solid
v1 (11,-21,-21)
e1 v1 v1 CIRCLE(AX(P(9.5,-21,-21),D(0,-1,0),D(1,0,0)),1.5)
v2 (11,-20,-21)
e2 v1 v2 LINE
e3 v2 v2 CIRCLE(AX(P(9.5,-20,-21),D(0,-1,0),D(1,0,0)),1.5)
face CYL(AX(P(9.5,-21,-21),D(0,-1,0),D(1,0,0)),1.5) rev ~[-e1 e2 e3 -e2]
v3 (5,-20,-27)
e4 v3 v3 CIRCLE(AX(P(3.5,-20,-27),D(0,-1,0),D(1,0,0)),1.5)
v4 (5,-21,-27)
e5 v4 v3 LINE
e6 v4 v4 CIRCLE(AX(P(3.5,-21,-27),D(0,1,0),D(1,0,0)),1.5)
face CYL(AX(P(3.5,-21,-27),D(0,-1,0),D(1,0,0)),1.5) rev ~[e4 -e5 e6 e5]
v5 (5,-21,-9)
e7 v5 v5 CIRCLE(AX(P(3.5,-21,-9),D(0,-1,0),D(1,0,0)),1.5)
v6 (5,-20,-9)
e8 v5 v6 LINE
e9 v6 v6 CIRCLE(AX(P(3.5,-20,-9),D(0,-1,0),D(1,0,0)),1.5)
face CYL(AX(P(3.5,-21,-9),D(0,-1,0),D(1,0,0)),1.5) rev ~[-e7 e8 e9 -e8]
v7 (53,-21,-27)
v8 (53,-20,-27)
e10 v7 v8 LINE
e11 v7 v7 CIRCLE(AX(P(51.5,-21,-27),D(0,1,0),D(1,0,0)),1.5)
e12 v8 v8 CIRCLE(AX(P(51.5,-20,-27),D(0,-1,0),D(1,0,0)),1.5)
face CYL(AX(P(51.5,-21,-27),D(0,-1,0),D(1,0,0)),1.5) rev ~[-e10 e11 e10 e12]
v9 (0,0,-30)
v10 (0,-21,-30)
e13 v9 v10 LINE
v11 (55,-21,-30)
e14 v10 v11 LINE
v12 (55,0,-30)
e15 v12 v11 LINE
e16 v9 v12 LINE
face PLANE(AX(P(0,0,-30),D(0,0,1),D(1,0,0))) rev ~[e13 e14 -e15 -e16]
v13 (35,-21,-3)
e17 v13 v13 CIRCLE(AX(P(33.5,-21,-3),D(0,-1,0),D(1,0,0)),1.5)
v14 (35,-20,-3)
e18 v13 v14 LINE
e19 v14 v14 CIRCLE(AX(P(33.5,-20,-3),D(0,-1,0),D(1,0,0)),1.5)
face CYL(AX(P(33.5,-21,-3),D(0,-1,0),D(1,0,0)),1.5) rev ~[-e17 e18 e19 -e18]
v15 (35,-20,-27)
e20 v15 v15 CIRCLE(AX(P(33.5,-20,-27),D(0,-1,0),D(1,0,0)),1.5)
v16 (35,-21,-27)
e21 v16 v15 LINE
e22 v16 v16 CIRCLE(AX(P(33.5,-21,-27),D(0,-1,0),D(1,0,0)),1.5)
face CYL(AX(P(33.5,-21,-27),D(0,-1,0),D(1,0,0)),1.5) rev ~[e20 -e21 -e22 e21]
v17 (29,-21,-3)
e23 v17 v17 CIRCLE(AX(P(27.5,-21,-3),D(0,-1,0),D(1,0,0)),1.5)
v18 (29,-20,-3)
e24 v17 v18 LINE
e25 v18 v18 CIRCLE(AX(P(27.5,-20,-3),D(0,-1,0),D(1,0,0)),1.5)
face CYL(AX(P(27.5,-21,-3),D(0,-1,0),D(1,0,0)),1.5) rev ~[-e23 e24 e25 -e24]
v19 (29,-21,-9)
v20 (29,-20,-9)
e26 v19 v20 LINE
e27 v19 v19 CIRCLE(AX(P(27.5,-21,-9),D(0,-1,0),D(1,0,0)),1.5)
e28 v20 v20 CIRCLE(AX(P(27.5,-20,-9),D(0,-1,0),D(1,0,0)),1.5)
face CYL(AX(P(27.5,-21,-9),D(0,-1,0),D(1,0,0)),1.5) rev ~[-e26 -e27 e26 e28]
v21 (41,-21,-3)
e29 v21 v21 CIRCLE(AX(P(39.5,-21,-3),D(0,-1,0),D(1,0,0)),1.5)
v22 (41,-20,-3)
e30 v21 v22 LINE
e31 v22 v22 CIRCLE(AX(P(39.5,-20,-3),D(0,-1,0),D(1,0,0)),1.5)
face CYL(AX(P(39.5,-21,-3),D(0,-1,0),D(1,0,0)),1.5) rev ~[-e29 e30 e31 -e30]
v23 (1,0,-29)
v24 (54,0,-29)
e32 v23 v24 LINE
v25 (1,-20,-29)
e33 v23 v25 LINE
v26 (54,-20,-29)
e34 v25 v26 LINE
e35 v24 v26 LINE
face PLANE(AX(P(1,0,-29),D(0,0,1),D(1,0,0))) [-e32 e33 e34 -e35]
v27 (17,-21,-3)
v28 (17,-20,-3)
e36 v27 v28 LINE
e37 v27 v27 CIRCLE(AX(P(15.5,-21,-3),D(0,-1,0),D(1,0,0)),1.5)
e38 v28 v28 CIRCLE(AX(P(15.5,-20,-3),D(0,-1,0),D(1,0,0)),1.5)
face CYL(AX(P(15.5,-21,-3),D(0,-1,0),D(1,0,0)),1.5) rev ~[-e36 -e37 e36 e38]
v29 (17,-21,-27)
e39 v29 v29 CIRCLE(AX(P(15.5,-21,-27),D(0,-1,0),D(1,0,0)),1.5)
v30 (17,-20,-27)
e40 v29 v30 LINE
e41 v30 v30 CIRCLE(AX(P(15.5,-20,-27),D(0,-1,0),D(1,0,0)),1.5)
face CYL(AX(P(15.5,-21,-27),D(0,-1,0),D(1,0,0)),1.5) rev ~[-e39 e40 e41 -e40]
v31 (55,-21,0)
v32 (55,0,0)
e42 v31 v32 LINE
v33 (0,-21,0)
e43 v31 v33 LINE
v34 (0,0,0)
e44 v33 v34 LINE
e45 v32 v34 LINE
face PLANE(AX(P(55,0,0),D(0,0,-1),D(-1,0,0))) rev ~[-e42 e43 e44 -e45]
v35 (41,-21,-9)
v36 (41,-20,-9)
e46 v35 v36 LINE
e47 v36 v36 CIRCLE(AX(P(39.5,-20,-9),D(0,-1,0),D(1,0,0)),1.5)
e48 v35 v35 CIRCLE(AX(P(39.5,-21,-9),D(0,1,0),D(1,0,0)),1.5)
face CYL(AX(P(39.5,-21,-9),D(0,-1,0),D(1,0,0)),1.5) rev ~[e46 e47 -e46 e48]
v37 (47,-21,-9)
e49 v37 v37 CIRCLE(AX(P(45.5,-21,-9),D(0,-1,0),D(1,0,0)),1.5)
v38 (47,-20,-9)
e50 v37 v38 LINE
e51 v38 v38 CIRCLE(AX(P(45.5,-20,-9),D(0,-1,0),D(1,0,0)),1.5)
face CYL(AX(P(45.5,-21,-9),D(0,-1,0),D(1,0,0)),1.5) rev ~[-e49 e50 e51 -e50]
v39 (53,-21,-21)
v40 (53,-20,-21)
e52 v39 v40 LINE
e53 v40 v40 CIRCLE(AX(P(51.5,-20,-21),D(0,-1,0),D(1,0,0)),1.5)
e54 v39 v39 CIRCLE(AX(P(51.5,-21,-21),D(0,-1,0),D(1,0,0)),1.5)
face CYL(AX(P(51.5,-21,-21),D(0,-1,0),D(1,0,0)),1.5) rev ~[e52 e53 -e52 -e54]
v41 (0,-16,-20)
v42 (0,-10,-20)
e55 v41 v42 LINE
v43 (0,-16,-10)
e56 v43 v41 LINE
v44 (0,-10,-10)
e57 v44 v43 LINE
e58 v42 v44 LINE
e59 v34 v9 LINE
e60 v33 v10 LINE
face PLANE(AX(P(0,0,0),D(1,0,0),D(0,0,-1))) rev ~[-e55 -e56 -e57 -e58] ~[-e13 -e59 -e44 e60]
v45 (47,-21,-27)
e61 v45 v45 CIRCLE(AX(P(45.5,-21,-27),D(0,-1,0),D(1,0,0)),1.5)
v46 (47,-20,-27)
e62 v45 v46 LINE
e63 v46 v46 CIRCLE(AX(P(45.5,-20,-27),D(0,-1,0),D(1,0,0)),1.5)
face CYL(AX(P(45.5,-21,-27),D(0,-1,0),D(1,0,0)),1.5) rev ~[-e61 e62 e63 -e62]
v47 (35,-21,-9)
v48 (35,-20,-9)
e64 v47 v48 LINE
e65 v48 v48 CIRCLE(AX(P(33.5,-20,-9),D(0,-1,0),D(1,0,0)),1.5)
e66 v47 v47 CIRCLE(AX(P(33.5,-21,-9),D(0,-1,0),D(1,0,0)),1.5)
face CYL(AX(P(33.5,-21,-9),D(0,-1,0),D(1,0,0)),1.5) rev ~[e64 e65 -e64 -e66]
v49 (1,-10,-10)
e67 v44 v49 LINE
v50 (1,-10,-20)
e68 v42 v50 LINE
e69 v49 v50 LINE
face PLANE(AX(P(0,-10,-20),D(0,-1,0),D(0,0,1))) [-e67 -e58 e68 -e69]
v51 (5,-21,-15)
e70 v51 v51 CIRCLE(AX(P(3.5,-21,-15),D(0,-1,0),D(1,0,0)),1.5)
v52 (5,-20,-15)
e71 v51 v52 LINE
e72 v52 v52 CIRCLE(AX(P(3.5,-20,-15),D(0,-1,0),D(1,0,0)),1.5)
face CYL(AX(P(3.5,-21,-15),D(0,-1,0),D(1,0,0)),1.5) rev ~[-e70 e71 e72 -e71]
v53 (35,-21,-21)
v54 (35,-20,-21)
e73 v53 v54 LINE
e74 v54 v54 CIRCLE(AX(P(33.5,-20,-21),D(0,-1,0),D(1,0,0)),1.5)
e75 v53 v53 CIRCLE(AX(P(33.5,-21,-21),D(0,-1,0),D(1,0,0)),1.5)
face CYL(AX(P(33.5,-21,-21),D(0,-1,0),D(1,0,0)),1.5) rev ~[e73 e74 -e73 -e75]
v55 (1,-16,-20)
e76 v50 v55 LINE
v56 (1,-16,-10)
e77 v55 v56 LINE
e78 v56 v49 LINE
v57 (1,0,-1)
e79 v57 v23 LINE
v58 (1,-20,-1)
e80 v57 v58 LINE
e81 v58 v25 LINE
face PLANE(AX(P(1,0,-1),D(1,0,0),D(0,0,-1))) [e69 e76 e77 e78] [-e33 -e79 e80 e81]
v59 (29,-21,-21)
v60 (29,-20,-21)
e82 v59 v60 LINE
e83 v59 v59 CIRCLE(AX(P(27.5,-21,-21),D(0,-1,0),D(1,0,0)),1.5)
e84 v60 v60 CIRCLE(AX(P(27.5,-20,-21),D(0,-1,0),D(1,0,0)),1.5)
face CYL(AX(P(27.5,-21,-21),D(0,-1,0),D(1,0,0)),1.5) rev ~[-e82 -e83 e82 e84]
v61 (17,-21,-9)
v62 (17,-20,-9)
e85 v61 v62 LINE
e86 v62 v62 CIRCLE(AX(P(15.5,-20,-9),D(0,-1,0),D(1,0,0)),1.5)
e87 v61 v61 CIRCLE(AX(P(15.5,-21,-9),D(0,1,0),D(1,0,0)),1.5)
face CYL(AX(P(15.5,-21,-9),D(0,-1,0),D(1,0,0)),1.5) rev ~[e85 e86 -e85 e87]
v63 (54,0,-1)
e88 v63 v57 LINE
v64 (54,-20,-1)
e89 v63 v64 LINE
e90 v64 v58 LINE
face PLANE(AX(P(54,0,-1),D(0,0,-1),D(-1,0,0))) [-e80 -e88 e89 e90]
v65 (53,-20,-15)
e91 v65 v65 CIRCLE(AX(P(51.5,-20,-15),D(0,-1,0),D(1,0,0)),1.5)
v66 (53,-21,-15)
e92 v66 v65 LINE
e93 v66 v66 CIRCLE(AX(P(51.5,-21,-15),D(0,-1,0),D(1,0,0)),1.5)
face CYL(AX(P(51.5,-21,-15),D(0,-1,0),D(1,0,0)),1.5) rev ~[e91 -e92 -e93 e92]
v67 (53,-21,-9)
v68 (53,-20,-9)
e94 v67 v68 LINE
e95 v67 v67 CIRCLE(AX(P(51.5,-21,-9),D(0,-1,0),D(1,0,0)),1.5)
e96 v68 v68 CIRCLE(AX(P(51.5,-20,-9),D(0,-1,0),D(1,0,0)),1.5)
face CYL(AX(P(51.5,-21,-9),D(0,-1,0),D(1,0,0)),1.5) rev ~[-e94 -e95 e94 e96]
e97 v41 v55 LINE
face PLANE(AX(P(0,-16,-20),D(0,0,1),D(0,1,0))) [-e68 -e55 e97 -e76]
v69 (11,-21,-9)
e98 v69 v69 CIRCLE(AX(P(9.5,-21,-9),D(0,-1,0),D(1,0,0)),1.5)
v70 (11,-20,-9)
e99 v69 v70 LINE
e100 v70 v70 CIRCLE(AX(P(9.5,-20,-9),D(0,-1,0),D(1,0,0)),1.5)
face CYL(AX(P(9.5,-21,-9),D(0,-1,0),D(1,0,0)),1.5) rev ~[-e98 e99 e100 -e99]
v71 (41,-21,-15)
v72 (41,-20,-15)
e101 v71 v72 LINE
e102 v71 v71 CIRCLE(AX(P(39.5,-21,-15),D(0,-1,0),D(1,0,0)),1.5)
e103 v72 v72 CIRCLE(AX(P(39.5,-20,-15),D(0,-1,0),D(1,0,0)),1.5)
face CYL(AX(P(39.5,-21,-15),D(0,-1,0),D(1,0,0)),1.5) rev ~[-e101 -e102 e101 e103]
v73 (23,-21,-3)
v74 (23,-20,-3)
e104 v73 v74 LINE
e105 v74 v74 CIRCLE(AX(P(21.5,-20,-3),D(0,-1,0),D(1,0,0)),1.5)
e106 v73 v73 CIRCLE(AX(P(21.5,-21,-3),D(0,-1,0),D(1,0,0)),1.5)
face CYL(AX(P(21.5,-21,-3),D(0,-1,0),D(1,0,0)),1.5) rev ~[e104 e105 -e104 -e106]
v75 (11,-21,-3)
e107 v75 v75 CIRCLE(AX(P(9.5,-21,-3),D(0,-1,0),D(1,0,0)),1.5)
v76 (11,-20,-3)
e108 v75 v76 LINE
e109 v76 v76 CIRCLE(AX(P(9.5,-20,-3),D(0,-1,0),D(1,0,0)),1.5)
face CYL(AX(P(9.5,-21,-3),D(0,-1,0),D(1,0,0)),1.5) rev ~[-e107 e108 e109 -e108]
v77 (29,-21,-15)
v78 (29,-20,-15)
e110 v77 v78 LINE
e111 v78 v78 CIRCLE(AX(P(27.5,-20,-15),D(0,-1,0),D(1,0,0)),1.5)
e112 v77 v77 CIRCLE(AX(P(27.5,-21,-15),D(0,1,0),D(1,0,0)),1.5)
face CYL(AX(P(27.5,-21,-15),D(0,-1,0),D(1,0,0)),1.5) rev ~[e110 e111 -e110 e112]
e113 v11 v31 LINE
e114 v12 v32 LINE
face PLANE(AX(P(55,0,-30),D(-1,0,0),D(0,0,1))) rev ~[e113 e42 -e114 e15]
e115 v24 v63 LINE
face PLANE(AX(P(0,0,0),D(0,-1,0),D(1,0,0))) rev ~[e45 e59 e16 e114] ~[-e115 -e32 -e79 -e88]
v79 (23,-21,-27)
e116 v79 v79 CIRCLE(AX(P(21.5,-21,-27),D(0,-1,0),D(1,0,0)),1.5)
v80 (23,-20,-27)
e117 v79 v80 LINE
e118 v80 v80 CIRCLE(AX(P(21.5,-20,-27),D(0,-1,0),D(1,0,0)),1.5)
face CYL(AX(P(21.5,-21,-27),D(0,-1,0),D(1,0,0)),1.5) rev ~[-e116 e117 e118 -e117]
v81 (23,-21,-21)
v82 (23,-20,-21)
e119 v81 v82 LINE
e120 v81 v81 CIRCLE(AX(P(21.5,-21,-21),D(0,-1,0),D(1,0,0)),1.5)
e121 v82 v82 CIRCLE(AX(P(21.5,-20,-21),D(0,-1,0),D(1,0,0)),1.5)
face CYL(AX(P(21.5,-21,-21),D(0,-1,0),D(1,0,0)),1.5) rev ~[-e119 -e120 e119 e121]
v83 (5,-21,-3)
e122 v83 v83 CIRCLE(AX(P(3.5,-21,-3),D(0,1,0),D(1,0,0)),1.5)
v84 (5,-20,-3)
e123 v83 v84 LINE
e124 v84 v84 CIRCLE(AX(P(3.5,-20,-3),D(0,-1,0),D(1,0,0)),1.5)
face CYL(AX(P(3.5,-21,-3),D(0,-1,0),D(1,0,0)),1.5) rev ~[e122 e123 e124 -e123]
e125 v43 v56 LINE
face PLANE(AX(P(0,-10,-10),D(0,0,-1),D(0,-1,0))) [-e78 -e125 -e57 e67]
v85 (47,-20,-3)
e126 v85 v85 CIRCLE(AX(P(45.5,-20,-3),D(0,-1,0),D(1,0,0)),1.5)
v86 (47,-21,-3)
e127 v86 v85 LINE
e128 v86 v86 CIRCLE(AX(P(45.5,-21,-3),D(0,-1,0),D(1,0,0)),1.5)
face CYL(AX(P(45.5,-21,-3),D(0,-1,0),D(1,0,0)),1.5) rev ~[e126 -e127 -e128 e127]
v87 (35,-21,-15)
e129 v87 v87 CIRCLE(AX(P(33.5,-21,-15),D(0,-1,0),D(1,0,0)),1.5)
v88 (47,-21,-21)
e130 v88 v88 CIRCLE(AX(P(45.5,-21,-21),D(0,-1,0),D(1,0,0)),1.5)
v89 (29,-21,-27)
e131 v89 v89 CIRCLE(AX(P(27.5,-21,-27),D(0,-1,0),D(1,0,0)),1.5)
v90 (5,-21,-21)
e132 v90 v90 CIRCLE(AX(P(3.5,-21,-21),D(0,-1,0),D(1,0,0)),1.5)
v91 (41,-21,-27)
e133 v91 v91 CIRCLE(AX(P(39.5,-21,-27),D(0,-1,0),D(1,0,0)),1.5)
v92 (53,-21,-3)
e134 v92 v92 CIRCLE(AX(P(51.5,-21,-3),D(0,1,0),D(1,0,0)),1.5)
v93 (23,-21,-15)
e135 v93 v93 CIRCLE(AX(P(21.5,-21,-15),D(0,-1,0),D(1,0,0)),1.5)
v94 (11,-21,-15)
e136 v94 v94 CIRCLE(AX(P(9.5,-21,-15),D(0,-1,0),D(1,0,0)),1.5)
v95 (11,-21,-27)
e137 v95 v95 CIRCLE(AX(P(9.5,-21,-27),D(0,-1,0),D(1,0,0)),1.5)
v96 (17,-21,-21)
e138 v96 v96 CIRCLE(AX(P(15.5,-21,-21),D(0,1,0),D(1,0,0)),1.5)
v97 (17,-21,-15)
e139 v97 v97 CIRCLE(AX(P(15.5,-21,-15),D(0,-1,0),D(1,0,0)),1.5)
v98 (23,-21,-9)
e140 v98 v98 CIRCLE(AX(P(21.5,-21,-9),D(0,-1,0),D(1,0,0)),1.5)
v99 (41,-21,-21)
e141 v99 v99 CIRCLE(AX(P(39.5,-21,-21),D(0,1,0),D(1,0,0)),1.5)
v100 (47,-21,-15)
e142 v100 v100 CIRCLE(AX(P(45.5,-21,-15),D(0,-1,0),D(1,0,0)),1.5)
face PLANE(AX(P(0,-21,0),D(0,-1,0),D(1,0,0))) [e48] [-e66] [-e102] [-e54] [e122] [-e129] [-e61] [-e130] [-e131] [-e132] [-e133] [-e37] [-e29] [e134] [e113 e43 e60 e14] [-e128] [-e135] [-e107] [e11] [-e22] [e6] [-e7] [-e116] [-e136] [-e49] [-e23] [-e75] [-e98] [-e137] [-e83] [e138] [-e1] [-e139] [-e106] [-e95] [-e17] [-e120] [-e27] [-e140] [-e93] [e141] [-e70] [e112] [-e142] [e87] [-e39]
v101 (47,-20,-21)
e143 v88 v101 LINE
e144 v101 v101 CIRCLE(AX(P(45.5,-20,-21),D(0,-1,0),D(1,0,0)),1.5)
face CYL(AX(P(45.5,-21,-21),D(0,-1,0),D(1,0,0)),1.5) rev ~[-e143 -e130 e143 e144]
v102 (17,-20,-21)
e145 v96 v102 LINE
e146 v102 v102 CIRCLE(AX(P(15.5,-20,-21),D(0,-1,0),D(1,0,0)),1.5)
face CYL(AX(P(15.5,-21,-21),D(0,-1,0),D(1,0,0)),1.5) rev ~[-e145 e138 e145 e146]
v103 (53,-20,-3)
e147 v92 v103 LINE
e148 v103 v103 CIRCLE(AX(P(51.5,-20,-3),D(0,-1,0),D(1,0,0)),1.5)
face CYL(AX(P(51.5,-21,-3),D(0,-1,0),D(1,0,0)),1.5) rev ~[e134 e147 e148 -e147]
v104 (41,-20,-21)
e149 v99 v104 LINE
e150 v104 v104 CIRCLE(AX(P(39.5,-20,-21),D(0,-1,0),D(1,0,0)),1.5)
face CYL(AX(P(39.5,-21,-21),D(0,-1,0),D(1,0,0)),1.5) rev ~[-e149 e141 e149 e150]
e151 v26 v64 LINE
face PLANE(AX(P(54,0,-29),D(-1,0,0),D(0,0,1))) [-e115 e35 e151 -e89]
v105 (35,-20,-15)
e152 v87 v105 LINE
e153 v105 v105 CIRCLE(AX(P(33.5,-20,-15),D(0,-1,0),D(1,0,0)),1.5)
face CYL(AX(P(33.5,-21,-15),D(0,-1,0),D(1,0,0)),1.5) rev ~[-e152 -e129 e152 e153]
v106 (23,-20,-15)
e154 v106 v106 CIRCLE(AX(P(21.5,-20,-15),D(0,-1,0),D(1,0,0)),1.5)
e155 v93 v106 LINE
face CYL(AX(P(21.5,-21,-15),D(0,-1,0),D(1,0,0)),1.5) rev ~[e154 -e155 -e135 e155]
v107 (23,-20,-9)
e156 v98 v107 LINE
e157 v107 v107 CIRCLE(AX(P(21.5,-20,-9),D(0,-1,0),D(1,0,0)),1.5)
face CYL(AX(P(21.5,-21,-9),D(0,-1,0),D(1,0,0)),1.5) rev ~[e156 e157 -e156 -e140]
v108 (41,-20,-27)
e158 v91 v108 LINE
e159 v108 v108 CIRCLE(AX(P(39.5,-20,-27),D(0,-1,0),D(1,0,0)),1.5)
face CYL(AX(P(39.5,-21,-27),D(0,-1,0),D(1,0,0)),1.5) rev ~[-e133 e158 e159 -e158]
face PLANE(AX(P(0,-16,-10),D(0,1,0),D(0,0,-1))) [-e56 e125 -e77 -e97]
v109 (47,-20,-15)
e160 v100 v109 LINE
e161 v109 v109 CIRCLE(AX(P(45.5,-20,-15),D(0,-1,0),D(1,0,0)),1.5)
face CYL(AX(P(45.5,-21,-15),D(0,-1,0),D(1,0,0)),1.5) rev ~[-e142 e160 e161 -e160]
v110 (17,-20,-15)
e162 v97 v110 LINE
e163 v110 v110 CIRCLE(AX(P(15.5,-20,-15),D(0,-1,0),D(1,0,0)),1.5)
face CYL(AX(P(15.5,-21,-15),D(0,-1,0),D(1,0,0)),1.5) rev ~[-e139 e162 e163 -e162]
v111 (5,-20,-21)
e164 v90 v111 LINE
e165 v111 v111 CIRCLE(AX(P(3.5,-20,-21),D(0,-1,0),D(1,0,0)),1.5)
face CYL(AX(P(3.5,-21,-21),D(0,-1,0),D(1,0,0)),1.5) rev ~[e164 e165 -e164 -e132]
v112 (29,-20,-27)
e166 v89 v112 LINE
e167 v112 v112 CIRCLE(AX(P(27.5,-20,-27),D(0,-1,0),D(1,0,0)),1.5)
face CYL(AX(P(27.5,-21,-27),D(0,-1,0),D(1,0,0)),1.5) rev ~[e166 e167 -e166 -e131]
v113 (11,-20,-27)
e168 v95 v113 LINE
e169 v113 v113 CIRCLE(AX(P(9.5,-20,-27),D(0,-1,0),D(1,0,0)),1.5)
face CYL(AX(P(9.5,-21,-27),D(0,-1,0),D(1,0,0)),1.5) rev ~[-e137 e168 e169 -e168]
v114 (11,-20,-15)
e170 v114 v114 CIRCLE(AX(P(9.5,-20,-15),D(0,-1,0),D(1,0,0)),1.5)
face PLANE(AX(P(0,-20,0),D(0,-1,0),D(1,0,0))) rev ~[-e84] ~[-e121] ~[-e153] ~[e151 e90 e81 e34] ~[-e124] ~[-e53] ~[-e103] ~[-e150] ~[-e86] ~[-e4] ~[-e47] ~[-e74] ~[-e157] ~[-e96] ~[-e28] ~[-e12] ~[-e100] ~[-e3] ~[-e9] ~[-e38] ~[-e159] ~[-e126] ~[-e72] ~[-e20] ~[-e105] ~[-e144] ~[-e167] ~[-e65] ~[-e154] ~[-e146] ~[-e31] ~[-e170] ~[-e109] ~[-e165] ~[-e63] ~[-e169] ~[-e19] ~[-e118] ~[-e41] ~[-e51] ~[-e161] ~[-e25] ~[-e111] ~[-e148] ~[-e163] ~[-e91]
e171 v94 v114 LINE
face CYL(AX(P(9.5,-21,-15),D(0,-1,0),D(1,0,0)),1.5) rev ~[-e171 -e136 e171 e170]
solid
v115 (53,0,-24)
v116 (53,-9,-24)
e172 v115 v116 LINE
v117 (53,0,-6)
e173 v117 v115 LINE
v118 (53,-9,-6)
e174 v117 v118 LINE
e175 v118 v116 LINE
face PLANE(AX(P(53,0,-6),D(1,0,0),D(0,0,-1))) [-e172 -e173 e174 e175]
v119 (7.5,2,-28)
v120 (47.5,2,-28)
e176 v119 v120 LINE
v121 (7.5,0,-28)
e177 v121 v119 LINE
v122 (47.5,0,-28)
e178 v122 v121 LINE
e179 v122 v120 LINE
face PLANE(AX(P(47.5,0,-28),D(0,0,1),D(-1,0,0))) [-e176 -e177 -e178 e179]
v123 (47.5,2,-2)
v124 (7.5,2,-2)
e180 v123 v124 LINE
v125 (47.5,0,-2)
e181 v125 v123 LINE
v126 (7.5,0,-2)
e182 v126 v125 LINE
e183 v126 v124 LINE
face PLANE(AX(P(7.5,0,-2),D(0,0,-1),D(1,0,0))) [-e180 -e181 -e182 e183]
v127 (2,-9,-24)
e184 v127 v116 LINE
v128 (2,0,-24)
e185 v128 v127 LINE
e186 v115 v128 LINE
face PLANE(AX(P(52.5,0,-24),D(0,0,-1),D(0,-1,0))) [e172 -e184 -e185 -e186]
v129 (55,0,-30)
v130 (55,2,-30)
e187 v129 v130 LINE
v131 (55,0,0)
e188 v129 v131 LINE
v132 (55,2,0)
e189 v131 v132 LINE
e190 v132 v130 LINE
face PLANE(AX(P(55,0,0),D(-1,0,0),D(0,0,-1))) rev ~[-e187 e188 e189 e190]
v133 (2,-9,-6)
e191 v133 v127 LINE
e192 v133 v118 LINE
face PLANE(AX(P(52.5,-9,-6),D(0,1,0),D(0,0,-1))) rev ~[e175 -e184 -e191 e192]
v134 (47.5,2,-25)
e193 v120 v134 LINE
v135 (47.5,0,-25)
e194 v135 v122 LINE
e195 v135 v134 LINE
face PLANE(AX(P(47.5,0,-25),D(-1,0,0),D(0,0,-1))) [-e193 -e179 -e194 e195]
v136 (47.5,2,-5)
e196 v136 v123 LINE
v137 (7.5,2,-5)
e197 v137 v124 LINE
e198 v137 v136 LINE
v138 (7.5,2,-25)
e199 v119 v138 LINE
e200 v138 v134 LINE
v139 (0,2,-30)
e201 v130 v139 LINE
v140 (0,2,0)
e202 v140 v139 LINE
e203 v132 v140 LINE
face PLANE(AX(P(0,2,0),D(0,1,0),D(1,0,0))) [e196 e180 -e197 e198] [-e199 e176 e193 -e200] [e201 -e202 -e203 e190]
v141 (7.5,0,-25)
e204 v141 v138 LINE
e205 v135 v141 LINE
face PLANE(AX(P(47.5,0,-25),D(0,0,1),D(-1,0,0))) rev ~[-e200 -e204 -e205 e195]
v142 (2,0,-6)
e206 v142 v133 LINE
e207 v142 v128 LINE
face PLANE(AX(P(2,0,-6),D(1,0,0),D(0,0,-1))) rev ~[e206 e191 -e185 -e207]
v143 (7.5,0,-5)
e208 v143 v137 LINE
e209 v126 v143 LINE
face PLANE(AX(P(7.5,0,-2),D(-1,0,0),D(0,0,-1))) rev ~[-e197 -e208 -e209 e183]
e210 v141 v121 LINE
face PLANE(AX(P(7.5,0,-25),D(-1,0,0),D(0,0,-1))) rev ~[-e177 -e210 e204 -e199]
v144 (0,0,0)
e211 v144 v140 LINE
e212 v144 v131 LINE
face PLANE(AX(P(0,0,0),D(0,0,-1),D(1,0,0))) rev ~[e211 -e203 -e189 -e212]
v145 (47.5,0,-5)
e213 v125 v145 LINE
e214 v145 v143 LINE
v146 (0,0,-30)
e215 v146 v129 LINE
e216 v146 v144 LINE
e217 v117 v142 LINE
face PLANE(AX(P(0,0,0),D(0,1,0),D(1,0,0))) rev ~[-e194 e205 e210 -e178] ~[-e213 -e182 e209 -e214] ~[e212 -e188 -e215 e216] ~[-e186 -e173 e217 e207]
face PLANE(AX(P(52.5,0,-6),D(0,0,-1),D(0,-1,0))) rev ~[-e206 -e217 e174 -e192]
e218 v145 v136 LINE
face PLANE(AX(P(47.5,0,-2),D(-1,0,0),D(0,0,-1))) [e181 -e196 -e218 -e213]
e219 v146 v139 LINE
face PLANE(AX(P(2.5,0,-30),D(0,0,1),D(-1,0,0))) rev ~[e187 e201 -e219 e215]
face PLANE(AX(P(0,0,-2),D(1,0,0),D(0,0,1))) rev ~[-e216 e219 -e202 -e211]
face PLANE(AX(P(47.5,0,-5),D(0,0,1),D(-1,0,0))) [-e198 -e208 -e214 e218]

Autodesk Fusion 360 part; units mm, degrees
sketch "Skizze1" plane through (0, 0, 0) normal (0, 1, 0) x (1, 0, 0)
  line L0 (0, 0) -> (55, 0)
  line L1 (55, 0) -> (55, 30)
  line L2 (55, 30) -> (0, 30)
  line L3 (0, 30) -> (0, 0)
  line L4 (0, 2) -> (56, 2)
  line L5 (56, 2) -> (56, 5)
  line L6 (56, 5) -> (0, 5)
  line L7 (0, 5) -> (0, 2)
  line L8 (0, 2) -> (7.5, 2)
  line L9 (7.5, 2) -> (7.5, 33)
  line L10 (7.5, 33) -> (0, 33)
  line L11 (0, 33) -> (0, 2)
  line L12 (55, 2) -> (47.5, 2)
  line L13 (47.5, 2) -> (47.5, 37)
  line L14 (47.5, 37) -> (55, 37)
  line L15 (55, 37) -> (55, 2)
  line L16 (0, 30) -> (64, 30)
  line L17 (64, 30) -> (64, 28)
  line L18 (64, 28) -> (0, 28)
  line L19 (0, 28) -> (0, 30)
  line L20 (7.5, 28) -> (47.5, 28)
  line L21 (47.5, 28) -> (47.5, 25)
  line L22 (47.5, 25) -> (7.5, 25)
  line L23 (7.5, 25) -> (7.5, 28)
  line L24 (0, 0) -> (2.5, 0)
  line L25 (2.5, 0) -> (2.5, 30)
  line L26 (2.5, 30) -> (0, 30)
  line L27 (0, 30) -> (0, 0)
  line L28 (55, 0) -> (52.5, 0)
  line L29 (52.5, 0) -> (52.5, 30)
  line L30 (52.5, 30) -> (55, 30)
  line L31 (55, 30) -> (55, 0)
  line L32 (-10, 0) -> (65, 0)
  line L33 (65, 0) -> (65, 6)
  line L34 (65, 6) -> (-10, 6)
  line L35 (-10, 6) -> (-10, 0)
  line L36 (-5, 30) -> (70, 30)
  line L37 (70, 30) -> (70, 24)
  line L38 (70, 24) -> (-5, 24)
  line L39 (-5, 24) -> (-5, 30)
  dimension "d1" = 55
  dimension "d2" = 30
  dimension "d3" = 7.5
  dimension "d4" = 7.5
  dimension "d5" = 3
  dimension "d6" = 2.5
  dimension "d7" = 2.5
extrude "Extrusion1" add sketch "Skizze1" along normal blind 2 contours L0 L3 L4 L8 L24 L25 L27 L32 | L0 L4 L8 L12 L25 L29 L32 | L3 L4 L6 L7 L8 L11 L25 L27 | L0 L1 L4 L12 L28 L29 L31 L32 | L4 L6 L8 L9 L25 | L3 L6 L11 L25 L27 L34 | L1 L4 L6 L12 L15 L29 L31 | L4 L6 L12 L13 L29 | L4 L6 L9 L13 | L6 L9 L25 L34 | L3 L11 L25 L27 L34 L38 | L1 L6 L15 L29 L31 L34 | L6 L13 L29 L34 | L6 L9 L13 L34 | L9 L25 L34 L38 | L3 L11 L18 L25 L27 L38 | L13 L29 L34 L38 | L1 L15 L29 L31 L34 L38 | L9 L13 L34 L38 | L9 L18 L23 L25 L38 | L2 L3 L11 L16 L18 L19 L25 L26 L27 L36 | L13 L18 L21 L29 L38 | L1 L15 L18 L29 L31 L38 | L9 L13 L22 L38 | L2 L9 L16 L18 L25 L36 | L1 L2 L15 L16 L18 L29 L30 L31 L36 | L2 L13 L16 L18 L29 L36 | L9 L13 L18 L20 L21 L22 L23 | L2 L9 L13 L16 L18 L20 L36 makes body 1
extrude "Extrusion2" cut sketch "Skizze1" along normal blind 15 contours L4 L6 L9 L13 | L9 L13 L18 L20 L21 L22 L23 bodies 1
extrude "Extrusion3" add sketch "Skizze1" against normal blind 9 contours L9 L25 L34 L38 | L13 L29 L34 L38 | L9 L13 L34 L38 bodies 1
extrude "Extrusion4" add 1 faces at (2.5, -3, -12) along direction (-1, 0, 0) blind 0.5 on bodies 1 bodies 1
extrude "Extrusion5" add 1 faces at (52.5, -3, -12) along direction (1, 0, 0) blind 0.5 on bodies 1 bodies 1
sketch "Skizze2" plane through (0, 0, 0) normal (0, -1, 0) x (1, 0, 0)
  line L0 (53, -24) -> (2, -24)
  line L1 (2, -24) -> (2, -6)
  line L2 (2, -6) -> (53, -6)
  line L3 (53, -6) -> (53, -24)
  line L4 (0, -30) -> (55, -30)
  line L5 (55, -30) -> (55, 0)
  line L6 (55, 0) -> (0, 0)
  line L7 (0, 0) -> (0, -30)
  line L8 (7.5, -28) -> (7.5, -25)
  line L9 (7.5, -25) -> (47.5, -25)
  line L10 (47.5, -25) -> (47.5, -28)
  line L11 (47.5, -28) -> (7.5, -28)
  line L12 (7.5, -5) -> (7.5, -2)
  line L13 (7.5, -2) -> (47.5, -2)
  line L14 (47.5, -2) -> (47.5, -5)
  line L15 (47.5, -5) -> (7.5, -5)
  line L16 (1, -29) -> (54, -29)
  line L17 (54, -29) -> (54, -1)
  line L18 (54, -1) -> (1, -1)
  line L19 (1, -1) -> (1, -29)
  dimension "d18" = -1
extrude "Extrusion6" add sketch "Skizze2" along normal blind 20 separate body contours L4 L5 L6 L7 makes body 2
sketch "Skizze3" plane through (0, -20, 0) normal (0, -1, 0) x (1, 0, 0)
  line L0 (1, -29) -> (1, -1)
  line L1 (1, -1) -> (54, -1)
  line L2 (54, -1) -> (54, -29)
  line L3 (54, -29) -> (1, -29)
  line L4 (0, 0) -> (0, -30)
  line L5 (0, -30) -> (55, -30)
  line L6 (55, -30) -> (55, 0)
  line L7 (55, 0) -> (0, 0)
  line L8 (0, 0) -> (55, 0)
  line L9 (55, 0) -> (55, -30)
  line L10 (55, -30) -> (0, -30)
  line L11 (0, -30) -> (0, 0)
extrude "Extrusion7" add sketch "Skizze3" along normal blind 1 contours L0 L1 L2 L3 | L4 L5 L6 L7 L8 L9 L10 L11 bodies 2
sketch "Skizze4" plane through (0, 0, 0) normal (-1, 0, 0) x (0, -1, 0)
  line L0 (0, 0) -> (0, -30)
  line L1 (0, -30) -> (21, -30)
  line L2 (21, -30) -> (21, 0)
  line L3 (21, 0) -> (0, 0)
  line L4 (10, -10) -> (16, -10)
  line L5 (16, -10) -> (16, -20)
  line L6 (16, -20) -> (10, -20)
  line L7 (10, -20) -> (10, -10)
extrude "Extrusion8" cut sketch "Skizze4" against normal blind 4 contours L4 L5 L6 L7 bodies 2
sketch "Skizze5" plane through (0, -21, 0) normal (0, -1, 0) x (1, 0, 0)
  line L0 (0, -30) -> (55, -30)
  line L1 (55, -30) -> (55, 0)
  line L2 (55, 0) -> (0, 0)
  line L3 (0, 0) -> (0, -30)
  line L4 (0, 0) -> (55, -30)
  line L5 (55, 0) -> (0, -30)
  circle A0 centre (27.5, -15) radius 1.5
  circle A1 centre (3.5, -27) radius 1.5
  circle A2 centre (9.5, -27) radius 1.5
  circle A3 centre (15.5, -27) radius 1.5
  circle A4 centre (21.5, -27) radius 1.5
  circle A5 centre (27.5, -27) radius 1.5
  circle A6 centre (33.5, -27) radius 1.5
  circle A7 centre (39.5, -27) radius 1.5
  circle A8 centre (45.5, -27) radius 1.5
  circle A9 centre (51.5, -27) radius 1.5
  circle A10 centre (3.5, -21) radius 1.5
  circle A11 centre (9.5, -21) radius 1.5
  circle A12 centre (15.5, -21) radius 1.5
  circle A13 centre (21.5, -21) radius 1.5
  circle A14 centre (27.5, -21) radius 1.5
  circle A15 centre (33.5, -21) radius 1.5
  circle A16 centre (39.5, -21) radius 1.5
  circle A17 centre (45.5, -21) radius 1.5
  circle A18 centre (51.5, -21) radius 1.5
  circle A19 centre (3.5, -15) radius 1.5
  circle A20 centre (9.5, -15) radius 1.5
  circle A21 centre (15.5, -15) radius 1.5
  circle A22 centre (21.5, -15) radius 1.5
  circle A23 centre (33.5, -15) radius 1.5
  circle A24 centre (39.5, -15) radius 1.5
  circle A25 centre (45.5, -15) radius 1.5
  circle A26 centre (51.5, -15) radius 1.5
  circle A27 centre (3.5, -9) radius 1.5
  circle A28 centre (9.5, -9) radius 1.5
  circle A29 centre (15.5, -9) radius 1.5
  circle A30 centre (21.5, -9) radius 1.5
  circle A31 centre (27.5, -9) radius 1.5
  circle A32 centre (33.5, -9) radius 1.5
  circle A33 centre (39.5, -9) radius 1.5
  circle A34 centre (45.5, -9) radius 1.5
  circle A35 centre (51.5, -9) radius 1.5
  circle A36 centre (3.5, -3) radius 1.5
  circle A37 centre (9.5, -3) radius 1.5
  circle A38 centre (15.5, -3) radius 1.5
  circle A39 centre (21.5, -3) radius 1.5
  circle A40 centre (27.5, -3) radius 1.5
  circle A41 centre (33.5, -3) radius 1.5
  circle A42 centre (39.5, -3) radius 1.5
  circle A43 centre (45.5, -3) radius 1.5
  circle A44 centre (51.5, -3) radius 1.5
  dimension "d25" = 3
  dimension "d28" = 24
  dimension "d29" = 12
extrude "Extrusion9" cut sketch "Skizze5" against normal blind 4 contours L5 A1 | L5 A1 | L4 A9 | L4 A9 | L4 A36 | L4 A36 | L5 A44 | L5 A44 | L5 A12 | L5 A12 | L4 A16 | L4 A16 | L4 A29 | L4 A29 | L5 A33 | L5 A33 | L4 L5 A0 | L4 L5 A0 | L4 L5 A0 | L4 L5 A0 | A2 | A3 | A4 | A5 | A6 | A7 | A8 | A10 | A11 | A13 | A14 | A15 | A17 | A18 | A19 | A20 | A21 | A22 | A23 | A24 | A25 | A26 | A27 | A28 | A30 | A31 | A32 | A34 | A35 | A37 | A38 | A39 | A40 | A41 | A42 | A43 bodies 2
copy_body "Körper->Berechn1" bodies 1 removing the originals makes body 3 in component "Component"
copy_body "Körper->Berechn2" bodies 2 removing the originals makes body 4 in component "Component'"
component "Component" placed x (1, 0, 0) y (0, 1, 0) z (0, 0, 1) at (0, 0, 0)
component "Component'" placed x (1, 0, 0) y (0, 1, 0) z (0, 0, 1) at (0, 0, 0)
